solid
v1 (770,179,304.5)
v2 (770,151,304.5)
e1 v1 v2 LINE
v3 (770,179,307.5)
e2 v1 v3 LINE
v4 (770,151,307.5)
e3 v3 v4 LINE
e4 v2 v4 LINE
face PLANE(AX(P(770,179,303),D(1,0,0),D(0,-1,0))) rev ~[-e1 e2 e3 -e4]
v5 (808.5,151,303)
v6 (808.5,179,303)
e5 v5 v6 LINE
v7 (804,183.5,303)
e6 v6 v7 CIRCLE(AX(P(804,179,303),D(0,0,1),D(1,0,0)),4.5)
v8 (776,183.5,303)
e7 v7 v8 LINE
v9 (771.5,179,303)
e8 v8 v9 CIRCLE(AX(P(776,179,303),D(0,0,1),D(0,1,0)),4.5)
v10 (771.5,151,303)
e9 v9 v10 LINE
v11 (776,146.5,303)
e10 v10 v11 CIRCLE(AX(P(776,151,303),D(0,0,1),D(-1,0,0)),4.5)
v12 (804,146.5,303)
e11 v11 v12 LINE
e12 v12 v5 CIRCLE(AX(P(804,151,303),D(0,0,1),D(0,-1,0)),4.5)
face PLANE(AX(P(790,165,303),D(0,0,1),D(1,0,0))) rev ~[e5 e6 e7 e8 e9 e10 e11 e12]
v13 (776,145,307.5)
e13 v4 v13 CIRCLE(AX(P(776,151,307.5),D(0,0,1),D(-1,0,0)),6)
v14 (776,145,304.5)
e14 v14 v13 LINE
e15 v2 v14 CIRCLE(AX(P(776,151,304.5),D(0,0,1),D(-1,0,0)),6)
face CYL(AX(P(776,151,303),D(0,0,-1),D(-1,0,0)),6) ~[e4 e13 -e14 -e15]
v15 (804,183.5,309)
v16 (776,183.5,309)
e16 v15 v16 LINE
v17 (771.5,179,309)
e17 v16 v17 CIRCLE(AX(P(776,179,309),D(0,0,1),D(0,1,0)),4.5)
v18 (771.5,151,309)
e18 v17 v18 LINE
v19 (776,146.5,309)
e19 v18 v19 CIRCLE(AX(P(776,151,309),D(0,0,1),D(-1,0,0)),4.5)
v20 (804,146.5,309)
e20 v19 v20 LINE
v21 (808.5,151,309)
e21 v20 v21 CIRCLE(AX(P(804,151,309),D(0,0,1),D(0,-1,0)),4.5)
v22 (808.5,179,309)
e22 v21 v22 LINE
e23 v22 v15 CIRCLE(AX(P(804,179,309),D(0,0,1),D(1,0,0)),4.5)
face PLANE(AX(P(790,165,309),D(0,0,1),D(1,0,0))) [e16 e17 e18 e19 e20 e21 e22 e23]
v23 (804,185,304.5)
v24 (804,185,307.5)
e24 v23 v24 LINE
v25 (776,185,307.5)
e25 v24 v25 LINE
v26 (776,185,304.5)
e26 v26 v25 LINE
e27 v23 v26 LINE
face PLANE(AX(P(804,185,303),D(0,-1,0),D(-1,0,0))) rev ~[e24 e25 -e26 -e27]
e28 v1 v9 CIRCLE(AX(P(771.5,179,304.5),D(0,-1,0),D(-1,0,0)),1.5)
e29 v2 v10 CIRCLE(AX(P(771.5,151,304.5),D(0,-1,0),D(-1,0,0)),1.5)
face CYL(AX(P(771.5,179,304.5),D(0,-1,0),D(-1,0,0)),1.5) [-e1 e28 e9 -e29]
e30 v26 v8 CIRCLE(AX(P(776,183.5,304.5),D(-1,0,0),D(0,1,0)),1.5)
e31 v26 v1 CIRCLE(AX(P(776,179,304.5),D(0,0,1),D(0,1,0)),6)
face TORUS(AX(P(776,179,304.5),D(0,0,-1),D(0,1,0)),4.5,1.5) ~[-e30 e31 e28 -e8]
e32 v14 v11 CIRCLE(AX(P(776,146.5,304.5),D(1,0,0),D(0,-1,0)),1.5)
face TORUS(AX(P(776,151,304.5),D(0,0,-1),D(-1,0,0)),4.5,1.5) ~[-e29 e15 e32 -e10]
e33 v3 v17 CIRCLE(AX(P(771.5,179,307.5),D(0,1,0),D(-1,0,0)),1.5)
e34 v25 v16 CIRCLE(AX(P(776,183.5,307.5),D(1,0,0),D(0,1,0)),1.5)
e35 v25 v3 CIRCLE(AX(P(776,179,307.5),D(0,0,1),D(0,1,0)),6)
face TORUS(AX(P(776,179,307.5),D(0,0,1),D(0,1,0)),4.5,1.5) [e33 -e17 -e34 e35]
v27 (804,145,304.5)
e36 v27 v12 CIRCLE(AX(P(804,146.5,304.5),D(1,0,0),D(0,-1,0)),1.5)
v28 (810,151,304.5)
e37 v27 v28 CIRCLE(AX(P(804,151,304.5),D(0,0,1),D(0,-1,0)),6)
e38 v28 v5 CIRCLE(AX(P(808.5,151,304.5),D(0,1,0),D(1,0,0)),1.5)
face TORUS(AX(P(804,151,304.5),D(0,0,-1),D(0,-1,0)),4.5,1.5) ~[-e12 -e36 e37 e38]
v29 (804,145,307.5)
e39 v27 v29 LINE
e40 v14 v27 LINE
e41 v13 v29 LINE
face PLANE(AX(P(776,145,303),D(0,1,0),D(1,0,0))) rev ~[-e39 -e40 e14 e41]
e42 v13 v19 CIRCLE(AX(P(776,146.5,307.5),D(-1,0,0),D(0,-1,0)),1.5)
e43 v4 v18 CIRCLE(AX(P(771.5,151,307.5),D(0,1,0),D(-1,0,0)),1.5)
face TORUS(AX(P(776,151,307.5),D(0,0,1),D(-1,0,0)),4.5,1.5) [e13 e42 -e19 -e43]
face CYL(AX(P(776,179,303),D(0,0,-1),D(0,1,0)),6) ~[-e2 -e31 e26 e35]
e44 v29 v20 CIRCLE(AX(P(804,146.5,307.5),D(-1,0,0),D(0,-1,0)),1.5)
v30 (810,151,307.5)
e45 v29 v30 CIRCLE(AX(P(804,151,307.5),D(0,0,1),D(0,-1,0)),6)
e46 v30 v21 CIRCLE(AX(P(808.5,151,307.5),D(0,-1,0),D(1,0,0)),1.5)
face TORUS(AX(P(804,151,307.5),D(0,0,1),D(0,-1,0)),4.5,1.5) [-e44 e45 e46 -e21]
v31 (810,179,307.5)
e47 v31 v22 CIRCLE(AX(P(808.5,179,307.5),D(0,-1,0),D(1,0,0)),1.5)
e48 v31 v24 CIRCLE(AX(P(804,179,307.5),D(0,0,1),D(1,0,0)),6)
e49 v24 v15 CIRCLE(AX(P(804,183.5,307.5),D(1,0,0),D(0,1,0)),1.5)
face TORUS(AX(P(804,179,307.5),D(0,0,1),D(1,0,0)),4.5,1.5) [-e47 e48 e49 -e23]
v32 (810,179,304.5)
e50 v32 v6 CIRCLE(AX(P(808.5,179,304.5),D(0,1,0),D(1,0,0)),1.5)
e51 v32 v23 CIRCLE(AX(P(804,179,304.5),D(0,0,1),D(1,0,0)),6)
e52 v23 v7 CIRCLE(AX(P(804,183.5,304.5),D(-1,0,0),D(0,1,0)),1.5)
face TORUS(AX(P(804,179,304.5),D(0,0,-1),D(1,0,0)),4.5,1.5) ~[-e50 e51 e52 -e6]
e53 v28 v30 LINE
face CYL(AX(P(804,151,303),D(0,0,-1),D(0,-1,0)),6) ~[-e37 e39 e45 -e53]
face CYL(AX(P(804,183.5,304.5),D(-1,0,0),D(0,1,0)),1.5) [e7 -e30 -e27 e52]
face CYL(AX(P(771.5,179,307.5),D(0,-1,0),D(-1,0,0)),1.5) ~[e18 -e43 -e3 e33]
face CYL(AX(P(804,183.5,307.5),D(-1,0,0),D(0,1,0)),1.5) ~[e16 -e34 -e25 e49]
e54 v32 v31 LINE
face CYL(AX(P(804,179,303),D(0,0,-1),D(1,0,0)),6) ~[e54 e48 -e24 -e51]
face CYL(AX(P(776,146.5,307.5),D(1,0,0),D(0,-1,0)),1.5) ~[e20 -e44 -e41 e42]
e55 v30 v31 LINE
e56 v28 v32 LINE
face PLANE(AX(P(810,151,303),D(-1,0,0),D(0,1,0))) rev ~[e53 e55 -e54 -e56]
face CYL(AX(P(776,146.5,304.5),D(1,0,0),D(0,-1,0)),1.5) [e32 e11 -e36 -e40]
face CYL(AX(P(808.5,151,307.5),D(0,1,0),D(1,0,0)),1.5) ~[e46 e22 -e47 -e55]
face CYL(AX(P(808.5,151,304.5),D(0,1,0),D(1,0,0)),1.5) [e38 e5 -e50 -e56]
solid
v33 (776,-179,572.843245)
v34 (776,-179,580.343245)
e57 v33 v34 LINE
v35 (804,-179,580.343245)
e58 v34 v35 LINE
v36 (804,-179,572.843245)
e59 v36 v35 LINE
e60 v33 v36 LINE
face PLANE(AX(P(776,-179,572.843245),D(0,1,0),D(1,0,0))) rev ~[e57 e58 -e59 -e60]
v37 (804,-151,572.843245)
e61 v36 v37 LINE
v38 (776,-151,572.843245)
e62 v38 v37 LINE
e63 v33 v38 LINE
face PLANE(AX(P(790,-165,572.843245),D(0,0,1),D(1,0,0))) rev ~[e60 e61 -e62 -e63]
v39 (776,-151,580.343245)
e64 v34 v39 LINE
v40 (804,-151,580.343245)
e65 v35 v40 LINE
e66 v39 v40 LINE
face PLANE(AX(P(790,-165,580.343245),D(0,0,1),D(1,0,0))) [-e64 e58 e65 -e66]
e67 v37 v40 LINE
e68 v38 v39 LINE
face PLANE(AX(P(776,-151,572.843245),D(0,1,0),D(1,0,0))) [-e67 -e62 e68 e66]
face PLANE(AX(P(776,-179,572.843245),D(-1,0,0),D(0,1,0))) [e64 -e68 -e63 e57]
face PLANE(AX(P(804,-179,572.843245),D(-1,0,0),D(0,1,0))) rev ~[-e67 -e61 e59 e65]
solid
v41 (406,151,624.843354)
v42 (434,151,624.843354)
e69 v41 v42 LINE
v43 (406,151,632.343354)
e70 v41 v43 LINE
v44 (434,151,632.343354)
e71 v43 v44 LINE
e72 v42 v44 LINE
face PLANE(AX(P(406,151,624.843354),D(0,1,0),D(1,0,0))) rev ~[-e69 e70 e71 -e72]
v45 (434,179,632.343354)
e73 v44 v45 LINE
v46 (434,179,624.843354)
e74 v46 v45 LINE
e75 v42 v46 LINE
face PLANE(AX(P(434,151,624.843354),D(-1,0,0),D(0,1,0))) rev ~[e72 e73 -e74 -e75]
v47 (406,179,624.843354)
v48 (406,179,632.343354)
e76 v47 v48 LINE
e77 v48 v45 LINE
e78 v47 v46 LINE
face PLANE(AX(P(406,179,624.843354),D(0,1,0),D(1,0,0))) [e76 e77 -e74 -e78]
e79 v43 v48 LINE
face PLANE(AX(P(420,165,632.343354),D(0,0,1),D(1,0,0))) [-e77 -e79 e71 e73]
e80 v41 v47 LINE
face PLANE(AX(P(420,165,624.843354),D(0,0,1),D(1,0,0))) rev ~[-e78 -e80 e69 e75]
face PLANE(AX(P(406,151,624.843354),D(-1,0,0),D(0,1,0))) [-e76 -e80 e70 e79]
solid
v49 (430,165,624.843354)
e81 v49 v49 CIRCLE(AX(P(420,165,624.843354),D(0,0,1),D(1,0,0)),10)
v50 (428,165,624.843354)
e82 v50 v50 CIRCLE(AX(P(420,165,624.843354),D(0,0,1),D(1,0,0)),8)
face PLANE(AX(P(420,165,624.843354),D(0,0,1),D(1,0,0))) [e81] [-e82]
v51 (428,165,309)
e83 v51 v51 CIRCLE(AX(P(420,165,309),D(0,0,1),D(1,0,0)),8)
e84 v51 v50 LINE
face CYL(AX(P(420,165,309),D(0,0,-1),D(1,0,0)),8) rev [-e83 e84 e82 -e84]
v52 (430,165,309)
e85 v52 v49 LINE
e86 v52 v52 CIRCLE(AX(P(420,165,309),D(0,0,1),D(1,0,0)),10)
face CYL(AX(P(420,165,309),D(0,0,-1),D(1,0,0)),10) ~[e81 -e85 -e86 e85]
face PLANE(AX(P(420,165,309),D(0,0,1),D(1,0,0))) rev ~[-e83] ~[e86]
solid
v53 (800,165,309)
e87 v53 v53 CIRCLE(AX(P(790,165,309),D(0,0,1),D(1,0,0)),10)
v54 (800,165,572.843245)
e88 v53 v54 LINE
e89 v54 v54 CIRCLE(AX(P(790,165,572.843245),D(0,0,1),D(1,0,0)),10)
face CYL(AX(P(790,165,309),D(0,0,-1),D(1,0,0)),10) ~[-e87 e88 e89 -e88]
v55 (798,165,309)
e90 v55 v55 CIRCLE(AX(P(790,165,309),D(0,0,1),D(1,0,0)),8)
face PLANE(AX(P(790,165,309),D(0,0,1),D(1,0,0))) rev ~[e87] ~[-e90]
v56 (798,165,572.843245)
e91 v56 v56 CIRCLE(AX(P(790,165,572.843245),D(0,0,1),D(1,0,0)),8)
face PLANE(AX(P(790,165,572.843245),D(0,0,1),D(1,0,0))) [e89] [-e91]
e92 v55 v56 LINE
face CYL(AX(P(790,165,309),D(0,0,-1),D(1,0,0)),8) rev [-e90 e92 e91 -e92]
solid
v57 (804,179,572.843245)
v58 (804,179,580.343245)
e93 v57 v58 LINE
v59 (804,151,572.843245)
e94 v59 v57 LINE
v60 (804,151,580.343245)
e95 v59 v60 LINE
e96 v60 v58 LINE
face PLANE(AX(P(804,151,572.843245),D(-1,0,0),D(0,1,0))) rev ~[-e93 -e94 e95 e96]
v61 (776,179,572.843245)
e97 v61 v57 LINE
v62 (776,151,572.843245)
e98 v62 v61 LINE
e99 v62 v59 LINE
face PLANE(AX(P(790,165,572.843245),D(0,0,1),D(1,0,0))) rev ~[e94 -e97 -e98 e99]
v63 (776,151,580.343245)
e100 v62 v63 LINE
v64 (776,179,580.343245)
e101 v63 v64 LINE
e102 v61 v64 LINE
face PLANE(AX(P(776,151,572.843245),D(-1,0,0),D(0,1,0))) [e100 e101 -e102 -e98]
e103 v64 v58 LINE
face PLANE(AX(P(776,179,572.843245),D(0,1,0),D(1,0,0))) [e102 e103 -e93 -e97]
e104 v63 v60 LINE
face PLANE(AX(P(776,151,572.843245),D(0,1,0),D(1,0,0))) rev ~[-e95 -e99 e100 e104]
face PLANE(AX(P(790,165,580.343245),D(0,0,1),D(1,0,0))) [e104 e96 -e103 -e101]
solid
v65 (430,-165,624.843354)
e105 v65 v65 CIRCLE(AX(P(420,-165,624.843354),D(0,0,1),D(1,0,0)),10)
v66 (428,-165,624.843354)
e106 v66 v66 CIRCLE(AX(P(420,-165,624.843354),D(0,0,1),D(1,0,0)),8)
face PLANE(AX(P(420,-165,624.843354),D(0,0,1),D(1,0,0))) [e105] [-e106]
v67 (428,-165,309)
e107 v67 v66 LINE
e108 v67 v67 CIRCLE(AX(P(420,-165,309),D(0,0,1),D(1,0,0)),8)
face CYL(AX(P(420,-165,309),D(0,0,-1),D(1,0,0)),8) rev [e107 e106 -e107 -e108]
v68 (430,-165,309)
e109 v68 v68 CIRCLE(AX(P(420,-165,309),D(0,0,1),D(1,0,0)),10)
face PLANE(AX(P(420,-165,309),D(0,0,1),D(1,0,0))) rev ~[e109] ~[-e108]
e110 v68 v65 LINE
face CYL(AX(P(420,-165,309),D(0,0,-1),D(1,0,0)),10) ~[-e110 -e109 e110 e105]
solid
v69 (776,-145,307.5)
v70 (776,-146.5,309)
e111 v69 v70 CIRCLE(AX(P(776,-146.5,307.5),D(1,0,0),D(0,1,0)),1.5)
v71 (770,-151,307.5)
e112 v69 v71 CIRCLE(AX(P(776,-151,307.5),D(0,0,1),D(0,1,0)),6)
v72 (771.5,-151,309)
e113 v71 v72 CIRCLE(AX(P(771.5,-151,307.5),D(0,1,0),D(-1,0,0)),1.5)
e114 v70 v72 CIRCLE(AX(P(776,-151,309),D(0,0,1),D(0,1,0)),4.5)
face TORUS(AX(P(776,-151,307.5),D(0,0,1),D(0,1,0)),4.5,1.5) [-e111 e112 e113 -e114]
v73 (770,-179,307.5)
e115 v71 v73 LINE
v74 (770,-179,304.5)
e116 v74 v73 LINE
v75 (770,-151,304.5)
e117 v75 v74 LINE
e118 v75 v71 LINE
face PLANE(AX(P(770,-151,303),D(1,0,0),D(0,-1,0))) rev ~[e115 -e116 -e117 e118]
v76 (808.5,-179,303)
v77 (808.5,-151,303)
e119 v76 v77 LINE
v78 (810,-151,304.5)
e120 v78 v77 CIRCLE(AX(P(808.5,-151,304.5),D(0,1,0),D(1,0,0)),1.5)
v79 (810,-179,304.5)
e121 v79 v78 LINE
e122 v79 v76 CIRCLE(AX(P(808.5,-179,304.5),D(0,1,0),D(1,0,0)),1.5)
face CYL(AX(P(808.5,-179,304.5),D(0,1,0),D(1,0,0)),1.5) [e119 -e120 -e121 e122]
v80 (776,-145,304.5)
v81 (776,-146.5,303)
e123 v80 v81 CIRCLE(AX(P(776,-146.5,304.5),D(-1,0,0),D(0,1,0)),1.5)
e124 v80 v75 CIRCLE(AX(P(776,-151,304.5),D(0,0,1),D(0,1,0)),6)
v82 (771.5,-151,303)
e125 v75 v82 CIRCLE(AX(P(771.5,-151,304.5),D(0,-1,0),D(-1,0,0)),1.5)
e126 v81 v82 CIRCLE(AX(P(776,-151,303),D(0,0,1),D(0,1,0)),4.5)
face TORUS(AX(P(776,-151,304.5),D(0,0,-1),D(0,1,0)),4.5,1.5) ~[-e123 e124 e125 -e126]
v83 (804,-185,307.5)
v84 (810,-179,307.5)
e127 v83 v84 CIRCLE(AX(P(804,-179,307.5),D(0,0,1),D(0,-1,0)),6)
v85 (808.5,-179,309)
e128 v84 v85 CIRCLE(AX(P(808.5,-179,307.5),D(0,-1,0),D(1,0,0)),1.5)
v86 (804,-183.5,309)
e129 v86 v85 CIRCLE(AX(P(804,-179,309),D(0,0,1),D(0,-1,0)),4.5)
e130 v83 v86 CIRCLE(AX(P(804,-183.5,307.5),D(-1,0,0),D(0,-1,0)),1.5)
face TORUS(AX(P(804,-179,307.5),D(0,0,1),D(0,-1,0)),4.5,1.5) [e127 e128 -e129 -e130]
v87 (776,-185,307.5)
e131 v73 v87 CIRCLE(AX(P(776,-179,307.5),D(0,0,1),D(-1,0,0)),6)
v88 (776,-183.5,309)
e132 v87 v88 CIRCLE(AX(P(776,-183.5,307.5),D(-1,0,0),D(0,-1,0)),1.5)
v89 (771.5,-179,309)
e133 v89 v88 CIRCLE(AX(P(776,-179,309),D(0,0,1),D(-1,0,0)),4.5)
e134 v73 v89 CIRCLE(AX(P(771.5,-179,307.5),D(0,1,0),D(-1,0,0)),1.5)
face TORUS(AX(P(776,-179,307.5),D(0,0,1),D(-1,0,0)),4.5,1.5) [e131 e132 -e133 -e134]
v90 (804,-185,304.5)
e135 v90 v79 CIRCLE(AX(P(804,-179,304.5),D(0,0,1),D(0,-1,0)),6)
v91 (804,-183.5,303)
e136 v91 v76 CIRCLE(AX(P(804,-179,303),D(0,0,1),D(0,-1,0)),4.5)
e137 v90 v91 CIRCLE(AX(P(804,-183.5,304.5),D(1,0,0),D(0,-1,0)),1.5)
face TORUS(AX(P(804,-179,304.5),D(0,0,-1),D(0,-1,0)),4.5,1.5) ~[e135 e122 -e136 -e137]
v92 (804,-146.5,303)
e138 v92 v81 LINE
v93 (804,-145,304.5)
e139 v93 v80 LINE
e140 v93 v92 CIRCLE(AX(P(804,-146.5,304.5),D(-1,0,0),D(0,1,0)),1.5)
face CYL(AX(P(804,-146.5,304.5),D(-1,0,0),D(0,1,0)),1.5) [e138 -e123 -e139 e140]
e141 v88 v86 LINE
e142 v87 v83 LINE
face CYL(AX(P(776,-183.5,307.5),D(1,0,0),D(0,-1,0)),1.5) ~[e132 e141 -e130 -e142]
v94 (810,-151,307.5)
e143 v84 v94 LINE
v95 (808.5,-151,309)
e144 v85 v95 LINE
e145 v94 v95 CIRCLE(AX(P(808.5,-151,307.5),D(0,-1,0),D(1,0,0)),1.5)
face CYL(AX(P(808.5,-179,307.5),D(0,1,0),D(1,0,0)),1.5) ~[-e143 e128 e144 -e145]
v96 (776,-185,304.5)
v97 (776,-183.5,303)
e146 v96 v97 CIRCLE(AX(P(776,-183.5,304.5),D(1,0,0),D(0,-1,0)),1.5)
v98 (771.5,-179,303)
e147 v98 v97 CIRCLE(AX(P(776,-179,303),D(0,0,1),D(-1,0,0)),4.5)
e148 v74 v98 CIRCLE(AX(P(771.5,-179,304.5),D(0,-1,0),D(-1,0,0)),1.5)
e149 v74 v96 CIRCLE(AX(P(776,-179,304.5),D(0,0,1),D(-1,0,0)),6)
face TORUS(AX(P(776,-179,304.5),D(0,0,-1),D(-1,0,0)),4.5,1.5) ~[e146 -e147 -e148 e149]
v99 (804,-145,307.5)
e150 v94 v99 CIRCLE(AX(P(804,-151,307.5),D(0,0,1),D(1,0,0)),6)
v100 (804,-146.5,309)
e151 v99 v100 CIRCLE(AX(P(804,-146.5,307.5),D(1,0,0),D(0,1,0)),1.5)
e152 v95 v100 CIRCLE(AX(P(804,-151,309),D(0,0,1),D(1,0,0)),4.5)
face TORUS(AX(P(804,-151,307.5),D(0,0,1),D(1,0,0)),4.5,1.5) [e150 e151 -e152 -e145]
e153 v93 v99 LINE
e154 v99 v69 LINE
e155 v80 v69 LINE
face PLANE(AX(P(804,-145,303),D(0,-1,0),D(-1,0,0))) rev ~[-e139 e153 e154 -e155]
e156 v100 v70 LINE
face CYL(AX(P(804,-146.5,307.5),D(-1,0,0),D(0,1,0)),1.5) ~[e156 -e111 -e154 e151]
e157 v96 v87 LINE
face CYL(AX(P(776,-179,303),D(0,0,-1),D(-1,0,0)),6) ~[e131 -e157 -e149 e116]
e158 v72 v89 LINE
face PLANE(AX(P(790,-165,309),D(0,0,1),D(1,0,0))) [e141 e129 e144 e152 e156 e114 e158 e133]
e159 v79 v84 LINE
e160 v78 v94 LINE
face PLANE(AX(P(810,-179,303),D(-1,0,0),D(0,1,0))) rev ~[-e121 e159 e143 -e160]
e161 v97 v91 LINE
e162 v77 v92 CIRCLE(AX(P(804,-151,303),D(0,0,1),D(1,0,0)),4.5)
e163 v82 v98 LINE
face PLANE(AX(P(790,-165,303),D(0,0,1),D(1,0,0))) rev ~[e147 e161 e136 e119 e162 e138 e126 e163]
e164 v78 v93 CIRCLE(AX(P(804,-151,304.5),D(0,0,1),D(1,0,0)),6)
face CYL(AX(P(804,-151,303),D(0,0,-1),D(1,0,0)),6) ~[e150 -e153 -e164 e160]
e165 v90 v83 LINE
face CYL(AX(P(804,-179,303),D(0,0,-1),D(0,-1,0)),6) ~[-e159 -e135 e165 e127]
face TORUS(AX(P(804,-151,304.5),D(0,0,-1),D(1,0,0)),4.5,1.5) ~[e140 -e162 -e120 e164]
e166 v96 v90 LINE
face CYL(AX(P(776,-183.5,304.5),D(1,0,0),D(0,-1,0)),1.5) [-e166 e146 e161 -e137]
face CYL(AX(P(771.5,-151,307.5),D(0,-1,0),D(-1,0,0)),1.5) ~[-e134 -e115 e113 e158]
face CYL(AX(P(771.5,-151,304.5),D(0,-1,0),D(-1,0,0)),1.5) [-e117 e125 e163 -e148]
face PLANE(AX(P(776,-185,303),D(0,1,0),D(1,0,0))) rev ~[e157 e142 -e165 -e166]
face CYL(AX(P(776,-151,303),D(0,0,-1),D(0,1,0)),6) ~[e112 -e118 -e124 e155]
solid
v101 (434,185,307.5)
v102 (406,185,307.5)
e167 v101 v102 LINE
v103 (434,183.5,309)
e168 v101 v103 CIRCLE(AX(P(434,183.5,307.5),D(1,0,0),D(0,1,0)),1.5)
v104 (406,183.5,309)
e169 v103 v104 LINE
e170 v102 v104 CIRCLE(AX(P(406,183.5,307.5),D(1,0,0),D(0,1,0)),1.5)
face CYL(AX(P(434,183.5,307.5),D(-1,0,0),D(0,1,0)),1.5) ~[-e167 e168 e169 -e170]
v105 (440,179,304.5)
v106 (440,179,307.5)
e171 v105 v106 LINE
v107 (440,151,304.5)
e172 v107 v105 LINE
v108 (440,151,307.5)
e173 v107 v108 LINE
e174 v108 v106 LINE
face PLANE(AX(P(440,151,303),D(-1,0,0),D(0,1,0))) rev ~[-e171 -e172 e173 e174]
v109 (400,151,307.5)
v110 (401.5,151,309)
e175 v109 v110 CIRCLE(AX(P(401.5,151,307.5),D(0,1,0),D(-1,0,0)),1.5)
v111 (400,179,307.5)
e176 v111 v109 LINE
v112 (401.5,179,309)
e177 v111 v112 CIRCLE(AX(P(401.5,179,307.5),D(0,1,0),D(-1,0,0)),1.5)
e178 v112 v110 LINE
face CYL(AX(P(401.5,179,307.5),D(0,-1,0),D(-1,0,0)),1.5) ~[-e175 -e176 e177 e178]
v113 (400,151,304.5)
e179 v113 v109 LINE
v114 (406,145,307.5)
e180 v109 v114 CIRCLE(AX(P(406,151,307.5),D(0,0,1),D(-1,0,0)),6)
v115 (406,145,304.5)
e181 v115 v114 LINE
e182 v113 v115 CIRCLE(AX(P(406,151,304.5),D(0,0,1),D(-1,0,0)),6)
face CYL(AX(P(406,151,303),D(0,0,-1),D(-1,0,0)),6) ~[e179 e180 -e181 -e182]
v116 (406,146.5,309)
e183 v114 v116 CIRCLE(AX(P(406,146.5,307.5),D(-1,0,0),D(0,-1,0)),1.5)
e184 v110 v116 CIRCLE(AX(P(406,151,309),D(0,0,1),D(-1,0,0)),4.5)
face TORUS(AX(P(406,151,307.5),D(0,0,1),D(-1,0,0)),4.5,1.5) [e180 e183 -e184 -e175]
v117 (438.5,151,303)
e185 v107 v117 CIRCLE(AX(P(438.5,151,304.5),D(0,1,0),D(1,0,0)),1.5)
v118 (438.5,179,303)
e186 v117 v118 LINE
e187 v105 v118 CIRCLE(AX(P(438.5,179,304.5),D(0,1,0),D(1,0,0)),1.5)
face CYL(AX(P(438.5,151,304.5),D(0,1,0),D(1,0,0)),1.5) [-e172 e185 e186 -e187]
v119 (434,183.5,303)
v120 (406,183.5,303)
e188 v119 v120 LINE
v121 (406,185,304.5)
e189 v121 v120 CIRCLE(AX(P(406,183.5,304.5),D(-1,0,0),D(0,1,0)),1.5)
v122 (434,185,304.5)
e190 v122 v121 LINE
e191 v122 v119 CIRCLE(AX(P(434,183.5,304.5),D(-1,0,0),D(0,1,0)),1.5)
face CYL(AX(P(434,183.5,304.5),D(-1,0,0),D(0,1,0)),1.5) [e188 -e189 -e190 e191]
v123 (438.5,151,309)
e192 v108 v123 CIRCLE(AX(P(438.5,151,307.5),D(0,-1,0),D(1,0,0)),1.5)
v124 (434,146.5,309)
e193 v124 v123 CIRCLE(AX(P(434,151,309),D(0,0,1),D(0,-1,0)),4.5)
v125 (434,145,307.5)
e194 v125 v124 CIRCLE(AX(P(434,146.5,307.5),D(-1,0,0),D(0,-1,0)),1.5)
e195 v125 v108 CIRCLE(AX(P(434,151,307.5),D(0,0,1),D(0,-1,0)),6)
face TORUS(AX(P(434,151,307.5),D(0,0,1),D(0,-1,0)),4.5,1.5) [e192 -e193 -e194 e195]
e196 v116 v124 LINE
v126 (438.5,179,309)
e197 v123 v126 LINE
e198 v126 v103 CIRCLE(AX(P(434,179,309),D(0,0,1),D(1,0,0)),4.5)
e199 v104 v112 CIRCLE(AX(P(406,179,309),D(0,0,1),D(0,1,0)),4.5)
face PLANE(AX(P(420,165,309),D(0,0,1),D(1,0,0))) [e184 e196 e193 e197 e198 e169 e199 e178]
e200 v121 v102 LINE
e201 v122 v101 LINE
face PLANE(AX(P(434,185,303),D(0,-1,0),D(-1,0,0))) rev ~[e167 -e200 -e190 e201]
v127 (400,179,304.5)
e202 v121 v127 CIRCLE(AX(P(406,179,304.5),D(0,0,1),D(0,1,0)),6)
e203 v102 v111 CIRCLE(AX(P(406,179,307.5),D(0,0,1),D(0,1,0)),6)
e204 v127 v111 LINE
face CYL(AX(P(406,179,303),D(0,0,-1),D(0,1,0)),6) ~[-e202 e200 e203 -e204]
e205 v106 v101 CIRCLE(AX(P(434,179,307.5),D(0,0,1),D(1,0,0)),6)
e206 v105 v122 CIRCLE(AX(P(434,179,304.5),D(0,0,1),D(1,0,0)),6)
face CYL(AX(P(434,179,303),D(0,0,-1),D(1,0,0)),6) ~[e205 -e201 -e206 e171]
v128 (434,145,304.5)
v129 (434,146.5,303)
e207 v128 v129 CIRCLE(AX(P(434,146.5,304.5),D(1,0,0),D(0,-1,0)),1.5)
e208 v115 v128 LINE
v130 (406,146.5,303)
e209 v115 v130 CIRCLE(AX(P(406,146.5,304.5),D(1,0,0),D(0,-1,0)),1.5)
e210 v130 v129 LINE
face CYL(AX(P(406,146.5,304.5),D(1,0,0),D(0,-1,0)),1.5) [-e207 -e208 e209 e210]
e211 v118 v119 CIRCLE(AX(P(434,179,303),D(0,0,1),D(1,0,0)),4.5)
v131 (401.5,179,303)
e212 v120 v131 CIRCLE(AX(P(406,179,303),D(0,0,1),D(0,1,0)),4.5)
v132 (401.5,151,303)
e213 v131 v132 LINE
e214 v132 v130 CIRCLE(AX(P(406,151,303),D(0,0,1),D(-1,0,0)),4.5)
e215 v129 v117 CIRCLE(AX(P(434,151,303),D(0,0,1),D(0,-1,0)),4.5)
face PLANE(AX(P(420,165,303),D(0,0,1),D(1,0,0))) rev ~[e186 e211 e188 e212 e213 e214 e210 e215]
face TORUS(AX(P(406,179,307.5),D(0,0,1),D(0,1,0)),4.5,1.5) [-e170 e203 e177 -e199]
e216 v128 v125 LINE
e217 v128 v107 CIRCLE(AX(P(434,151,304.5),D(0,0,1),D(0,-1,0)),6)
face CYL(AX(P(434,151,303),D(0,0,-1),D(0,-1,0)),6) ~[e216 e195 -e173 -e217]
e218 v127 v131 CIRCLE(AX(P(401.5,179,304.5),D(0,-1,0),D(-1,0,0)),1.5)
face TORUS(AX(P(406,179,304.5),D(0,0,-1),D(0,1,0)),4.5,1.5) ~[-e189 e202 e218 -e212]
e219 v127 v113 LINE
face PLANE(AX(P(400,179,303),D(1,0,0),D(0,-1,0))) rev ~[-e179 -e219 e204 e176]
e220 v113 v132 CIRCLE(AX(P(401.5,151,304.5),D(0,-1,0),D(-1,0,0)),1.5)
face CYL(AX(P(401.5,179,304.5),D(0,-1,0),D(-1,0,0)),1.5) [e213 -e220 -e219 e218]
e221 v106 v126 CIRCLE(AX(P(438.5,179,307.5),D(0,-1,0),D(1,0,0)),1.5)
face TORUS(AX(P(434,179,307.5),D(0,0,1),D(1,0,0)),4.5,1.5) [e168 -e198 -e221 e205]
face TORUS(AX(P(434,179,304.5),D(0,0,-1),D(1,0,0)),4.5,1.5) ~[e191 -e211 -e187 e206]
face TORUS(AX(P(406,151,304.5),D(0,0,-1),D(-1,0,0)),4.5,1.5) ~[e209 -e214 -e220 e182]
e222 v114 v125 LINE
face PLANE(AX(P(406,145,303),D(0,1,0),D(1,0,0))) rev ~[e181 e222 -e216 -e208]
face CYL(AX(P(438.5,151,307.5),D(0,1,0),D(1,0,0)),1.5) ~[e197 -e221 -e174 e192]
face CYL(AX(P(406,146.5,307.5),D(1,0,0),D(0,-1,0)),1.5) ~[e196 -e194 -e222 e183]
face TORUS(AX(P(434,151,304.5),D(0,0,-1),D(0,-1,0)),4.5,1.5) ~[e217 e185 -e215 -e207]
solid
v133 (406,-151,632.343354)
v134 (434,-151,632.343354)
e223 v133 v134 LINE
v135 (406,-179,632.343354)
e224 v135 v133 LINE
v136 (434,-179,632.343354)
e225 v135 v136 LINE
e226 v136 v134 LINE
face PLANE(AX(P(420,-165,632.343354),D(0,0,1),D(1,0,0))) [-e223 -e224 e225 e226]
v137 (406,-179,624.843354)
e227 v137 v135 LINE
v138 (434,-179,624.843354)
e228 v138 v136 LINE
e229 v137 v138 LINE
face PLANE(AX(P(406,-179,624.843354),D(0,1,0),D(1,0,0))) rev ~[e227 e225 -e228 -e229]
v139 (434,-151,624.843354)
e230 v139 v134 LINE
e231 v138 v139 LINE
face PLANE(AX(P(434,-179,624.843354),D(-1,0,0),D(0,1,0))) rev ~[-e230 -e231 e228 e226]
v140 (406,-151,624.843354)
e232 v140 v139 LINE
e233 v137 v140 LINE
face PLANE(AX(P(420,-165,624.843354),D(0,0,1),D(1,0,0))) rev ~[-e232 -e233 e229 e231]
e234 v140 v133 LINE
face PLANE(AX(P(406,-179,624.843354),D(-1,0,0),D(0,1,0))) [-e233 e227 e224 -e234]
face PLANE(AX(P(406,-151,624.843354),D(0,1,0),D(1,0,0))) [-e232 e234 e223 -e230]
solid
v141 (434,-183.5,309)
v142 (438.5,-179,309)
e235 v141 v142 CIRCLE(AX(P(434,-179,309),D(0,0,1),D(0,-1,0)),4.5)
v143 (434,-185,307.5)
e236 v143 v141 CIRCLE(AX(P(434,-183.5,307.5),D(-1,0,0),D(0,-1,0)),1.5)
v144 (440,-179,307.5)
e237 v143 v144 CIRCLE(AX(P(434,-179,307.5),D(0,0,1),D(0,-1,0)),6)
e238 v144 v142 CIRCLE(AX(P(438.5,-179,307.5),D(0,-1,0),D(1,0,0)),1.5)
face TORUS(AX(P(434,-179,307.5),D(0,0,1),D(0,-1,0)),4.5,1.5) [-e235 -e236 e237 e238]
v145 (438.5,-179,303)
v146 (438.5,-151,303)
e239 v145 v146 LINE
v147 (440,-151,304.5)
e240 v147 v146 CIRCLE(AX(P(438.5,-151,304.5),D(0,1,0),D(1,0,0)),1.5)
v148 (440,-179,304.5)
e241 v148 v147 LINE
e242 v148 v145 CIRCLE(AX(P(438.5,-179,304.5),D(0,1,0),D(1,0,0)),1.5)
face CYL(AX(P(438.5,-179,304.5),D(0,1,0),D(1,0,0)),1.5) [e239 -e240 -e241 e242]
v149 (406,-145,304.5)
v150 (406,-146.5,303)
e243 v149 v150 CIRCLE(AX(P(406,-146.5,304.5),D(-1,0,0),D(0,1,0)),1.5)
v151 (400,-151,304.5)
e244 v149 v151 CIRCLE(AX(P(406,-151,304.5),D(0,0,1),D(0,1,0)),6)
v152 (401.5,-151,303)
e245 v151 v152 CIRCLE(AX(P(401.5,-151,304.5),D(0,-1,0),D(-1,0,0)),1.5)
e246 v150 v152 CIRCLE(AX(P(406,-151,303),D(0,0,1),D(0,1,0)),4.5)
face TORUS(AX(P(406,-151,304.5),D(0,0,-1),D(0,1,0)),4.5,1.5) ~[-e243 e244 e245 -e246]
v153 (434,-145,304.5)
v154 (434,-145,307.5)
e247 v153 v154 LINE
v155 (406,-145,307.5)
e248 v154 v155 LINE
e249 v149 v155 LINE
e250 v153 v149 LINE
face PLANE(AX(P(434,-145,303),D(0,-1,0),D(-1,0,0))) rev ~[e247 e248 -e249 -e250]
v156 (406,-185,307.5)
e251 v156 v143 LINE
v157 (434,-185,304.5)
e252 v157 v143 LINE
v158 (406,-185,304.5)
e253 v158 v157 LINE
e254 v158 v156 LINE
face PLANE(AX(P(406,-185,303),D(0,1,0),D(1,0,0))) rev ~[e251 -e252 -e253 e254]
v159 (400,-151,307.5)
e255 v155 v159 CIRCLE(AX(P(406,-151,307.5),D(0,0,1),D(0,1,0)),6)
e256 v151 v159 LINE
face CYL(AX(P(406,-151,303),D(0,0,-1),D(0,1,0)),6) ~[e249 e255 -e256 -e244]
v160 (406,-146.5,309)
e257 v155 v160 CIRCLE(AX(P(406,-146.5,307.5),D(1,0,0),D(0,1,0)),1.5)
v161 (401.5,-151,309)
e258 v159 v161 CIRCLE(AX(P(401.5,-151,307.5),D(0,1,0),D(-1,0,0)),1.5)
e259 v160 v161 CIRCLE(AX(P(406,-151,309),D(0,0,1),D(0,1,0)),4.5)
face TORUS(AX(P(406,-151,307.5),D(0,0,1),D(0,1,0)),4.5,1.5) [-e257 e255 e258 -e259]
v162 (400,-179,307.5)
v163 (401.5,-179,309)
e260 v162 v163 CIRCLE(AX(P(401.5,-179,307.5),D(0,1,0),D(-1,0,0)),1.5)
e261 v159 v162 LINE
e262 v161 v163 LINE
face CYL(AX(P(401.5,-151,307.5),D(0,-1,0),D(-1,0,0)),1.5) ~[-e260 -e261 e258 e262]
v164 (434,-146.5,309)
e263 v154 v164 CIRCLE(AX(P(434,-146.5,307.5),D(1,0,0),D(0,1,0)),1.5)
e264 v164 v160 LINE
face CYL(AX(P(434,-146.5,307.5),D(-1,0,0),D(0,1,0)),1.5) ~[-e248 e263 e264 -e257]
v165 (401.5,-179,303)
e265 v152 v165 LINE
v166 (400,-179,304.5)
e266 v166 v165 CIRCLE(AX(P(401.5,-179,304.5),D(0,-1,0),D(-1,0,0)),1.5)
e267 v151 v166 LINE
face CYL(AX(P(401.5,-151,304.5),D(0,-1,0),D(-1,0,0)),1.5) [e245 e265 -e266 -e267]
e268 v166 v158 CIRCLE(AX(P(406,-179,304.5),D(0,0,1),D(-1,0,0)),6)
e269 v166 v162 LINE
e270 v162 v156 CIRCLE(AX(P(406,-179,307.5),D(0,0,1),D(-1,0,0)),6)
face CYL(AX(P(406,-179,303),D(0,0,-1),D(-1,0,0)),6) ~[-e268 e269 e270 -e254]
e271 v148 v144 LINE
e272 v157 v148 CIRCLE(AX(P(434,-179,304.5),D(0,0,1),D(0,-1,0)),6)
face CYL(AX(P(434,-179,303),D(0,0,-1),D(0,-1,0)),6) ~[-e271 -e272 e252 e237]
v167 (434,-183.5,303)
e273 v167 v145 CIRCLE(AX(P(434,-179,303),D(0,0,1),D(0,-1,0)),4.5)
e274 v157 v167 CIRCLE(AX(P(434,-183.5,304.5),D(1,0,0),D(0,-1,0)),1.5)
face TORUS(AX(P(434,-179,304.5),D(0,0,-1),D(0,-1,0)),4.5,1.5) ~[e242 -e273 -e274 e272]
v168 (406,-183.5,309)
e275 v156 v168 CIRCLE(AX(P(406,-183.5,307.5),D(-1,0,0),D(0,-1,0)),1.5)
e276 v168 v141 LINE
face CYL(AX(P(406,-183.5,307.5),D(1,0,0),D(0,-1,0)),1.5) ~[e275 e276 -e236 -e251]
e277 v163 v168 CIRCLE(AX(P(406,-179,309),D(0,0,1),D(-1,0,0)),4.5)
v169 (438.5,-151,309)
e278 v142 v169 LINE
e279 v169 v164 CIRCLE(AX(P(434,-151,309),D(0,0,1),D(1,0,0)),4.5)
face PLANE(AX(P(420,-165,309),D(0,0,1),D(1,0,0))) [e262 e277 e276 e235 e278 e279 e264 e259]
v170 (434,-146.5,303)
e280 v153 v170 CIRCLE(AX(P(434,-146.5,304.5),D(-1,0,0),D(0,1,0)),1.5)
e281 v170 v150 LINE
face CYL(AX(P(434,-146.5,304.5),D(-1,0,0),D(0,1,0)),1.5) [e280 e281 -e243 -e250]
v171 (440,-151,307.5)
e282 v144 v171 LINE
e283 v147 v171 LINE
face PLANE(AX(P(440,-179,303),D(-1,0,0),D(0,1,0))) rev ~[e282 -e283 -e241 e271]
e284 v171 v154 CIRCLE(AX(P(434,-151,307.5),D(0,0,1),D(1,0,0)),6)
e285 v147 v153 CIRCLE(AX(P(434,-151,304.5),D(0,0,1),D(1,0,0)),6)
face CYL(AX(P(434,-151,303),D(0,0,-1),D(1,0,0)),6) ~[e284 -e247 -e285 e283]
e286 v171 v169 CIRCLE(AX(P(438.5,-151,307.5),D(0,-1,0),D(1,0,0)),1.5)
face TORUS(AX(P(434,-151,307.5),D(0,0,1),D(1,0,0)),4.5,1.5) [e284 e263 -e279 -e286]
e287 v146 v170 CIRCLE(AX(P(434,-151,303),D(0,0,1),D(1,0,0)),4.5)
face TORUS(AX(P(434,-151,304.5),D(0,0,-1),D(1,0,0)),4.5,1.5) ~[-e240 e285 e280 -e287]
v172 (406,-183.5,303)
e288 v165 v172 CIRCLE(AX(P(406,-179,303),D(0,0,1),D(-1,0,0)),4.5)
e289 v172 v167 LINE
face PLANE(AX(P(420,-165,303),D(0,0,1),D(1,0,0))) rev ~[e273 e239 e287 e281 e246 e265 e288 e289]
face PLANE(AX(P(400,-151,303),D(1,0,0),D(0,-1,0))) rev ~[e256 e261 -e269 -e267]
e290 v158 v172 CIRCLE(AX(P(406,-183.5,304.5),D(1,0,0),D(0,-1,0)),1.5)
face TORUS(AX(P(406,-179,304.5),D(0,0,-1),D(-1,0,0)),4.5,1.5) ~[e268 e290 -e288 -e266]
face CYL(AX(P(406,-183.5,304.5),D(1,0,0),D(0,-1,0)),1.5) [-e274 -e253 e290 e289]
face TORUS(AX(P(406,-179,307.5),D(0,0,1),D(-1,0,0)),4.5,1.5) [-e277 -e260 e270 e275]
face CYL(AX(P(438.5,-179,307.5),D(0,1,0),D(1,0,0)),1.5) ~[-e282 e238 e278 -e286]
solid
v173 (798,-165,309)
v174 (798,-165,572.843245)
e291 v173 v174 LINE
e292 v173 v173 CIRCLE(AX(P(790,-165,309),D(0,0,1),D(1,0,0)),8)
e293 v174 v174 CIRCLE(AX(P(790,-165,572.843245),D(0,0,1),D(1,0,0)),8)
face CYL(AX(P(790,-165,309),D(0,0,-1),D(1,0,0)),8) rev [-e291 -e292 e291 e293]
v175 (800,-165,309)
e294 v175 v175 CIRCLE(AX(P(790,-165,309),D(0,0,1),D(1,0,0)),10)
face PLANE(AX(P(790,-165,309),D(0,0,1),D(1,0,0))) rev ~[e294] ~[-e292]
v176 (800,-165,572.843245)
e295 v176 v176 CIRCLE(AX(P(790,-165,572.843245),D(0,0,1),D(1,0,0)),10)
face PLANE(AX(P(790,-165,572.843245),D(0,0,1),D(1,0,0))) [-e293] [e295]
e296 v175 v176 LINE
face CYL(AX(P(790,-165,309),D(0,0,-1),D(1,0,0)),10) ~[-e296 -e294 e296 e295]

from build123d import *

# Parameters (mm, degrees)
BLOCK_START           = 303
BLOCK_1_DEPTH         = 6
BLOCK_EDGE_FILLET_1_R = 1.5
EXTRUDE_START         = 309
EXTRUDE_SKETCH_1_R    = 10
EXTRUDE_SKETCH_1_R_2  = 8
EXTRUDE_1_DEPTH       = 315.843353848
EXTRUDE_START_2       = 624.843353848
EXTRUDE_SKETCH_2_W    = 28
EXTRUDE_SKETCH_2_H    = 28
EXTRUDE_2_DEPTH       = 7.5
BLOCK_2_DEPTH         = 6
BLOCK_EDGE_FILLET_2_R = 1.5
EXTRUDE_SKETCH_3_R    = 10
EXTRUDE_SKETCH_3_R_2  = 8
EXTRUDE_3_DEPTH       = 315.843353848
EXTRUDE_SKETCH_4_W    = 28
EXTRUDE_SKETCH_4_H    = 28
EXTRUDE_4_DEPTH       = 7.5
BLOCK_3_DEPTH         = 6
BLOCK_EDGE_FILLET_3_R = 1.5
EXTRUDE_SKETCH_5_R    = 10
EXTRUDE_SKETCH_5_R_2  = 8
EXTRUDE_5_DEPTH       = 263.843245008
EXTRUDE_START_3       = 572.843245008
EXTRUDE_SKETCH_6_W    = 28
EXTRUDE_SKETCH_6_H    = 28
EXTRUDE_6_DEPTH       = 7.5
BLOCK_4_DEPTH         = 6
BLOCK_EDGE_FILLET_4_R = 1.5
EXTRUDE_SKETCH_7_R    = 10
EXTRUDE_SKETCH_7_R_2  = 8
EXTRUDE_7_DEPTH       = 263.843245008
EXTRUDE_SKETCH_8_W    = 28
EXTRUDE_SKETCH_8_H    = 28
EXTRUDE_8_DEPTH       = 7.5


with BuildPart() as part:
    # Block sketch 1 → Block 1 (new body)
    with BuildSketch(Plane.XY.offset(BLOCK_START)):
        with BuildLine():
            Line((406, 145), (434, 145))
            ThreePointArc((434, 145), (438.242640687, 146.757359313), (440, 151))
            Line((440, 151), (440, 179))
            ThreePointArc((440, 179), (438.242640687, 183.242640687), (434, 185))
            Line((434, 185), (406, 185))
            ThreePointArc((406, 185), (401.757359313, 183.242640687), (400, 179))
            Line((400, 179), (400, 151))
            ThreePointArc((400, 151), (401.757359313, 146.757359313), (406, 145))
        make_face()
    extrude(amount=BLOCK_1_DEPTH)

    # Block edge fillet 1
    block_edge_fillet_1_edges = [part.edges().sort_by_distance(p)[0] for p in [
        (440, 165, 303),
        (438.242640687, 146.757359313, 303),
        (420, 145, 303),
        (401.757359313, 146.757359313, 303),
        (438.242640687, 146.757359313, 309),
        (440, 165, 309),
        (438.242640687, 183.242640687, 309),
        (420, 185, 309),
        (401.757359313, 183.242640687, 309),
        (400, 165, 309),
        (401.757359313, 146.757359313, 309),
        (400, 165, 303),
        (420, 145, 309),
        (401.757359313, 183.242640687, 303),
        (420, 185, 303),
        (438.242640687, 183.242640687, 303),
    ]]
    fillet(block_edge_fillet_1_edges, radius=BLOCK_EDGE_FILLET_1_R)


with BuildPart() as body_2:
    # Extrude sketch 1 → Extrude 1 (new body)
    with BuildSketch(Plane.XY.offset(EXTRUDE_START)):
        with Locations((420, 165)):
            Circle(EXTRUDE_SKETCH_1_R)
        with Locations((420, 165)):
            Circle(EXTRUDE_SKETCH_1_R_2, mode=Mode.SUBTRACT)
    extrude(amount=EXTRUDE_1_DEPTH)


with BuildPart() as body_3:
    # Extrude sketch 2 → Extrude 2 (new body)
    with BuildSketch(Plane.XY.offset(EXTRUDE_START_2)):
        with Locations((420, 165)):
            Rectangle(EXTRUDE_SKETCH_2_W, EXTRUDE_SKETCH_2_H)
    extrude(amount=EXTRUDE_2_DEPTH)


with BuildPart() as body_4:
    # Block sketch 2 → Block 2 (new body)
    with BuildSketch(Plane.XY.offset(BLOCK_START)):
        with BuildLine():
            Line((406, -185), (434, -185))
            ThreePointArc((434, -185), (438.242640687, -183.242640687), (440, -179))
            Line((440, -179), (440, -151))
            ThreePointArc((440, -151), (438.242640687, -146.757359313), (434, -145))
            Line((434, -145), (406, -145))
            ThreePointArc((406, -145), (401.757359313, -146.757359313), (400, -151))
            Line((400, -151), (400, -179))
            ThreePointArc((400, -179), (401.757359313, -183.242640687), (406, -185))
        make_face()
    extrude(amount=BLOCK_2_DEPTH)

    # Block edge fillet 2
    block_edge_fillet_2_edges = [body_4.edges().sort_by_distance(p)[0] for p in [
        (440, -165, 303),
        (438.242640687, -183.242640687, 303),
        (420, -185, 303),
        (401.757359313, -183.242640687, 303),
        (438.242640687, -183.242640687, 309),
        (440, -165, 309),
        (438.242640687, -146.757359313, 309),
        (420, -145, 309),
        (401.757359313, -146.757359313, 309),
        (400, -165, 309),
        (401.757359313, -183.242640687, 309),
        (400, -165, 303),
        (420, -185, 309),
        (401.757359313, -146.757359313, 303),
        (420, -145, 303),
        (438.242640687, -146.757359313, 303),
    ]]
    fillet(block_edge_fillet_2_edges, radius=BLOCK_EDGE_FILLET_2_R)


with BuildPart() as body_5:
    # Extrude sketch 3 → Extrude 3 (new body)
    with BuildSketch(Plane.XY.offset(EXTRUDE_START)):
        with Locations((420, -165)):
            Circle(EXTRUDE_SKETCH_3_R)
        with Locations((420, -165)):
            Circle(EXTRUDE_SKETCH_3_R_2, mode=Mode.SUBTRACT)
    extrude(amount=EXTRUDE_3_DEPTH)


with BuildPart() as body_6:
    # Extrude sketch 4 → Extrude 4 (new body)
    with BuildSketch(Plane.XY.offset(EXTRUDE_START_2)):
        with Locations((420, -165)):
            Rectangle(EXTRUDE_SKETCH_4_W, EXTRUDE_SKETCH_4_H)
    extrude(amount=EXTRUDE_4_DEPTH)


with BuildPart() as body_7:
    # Block sketch 3 → Block 3 (new body)
    with BuildSketch(Plane.XY.offset(BLOCK_START)):
        with BuildLine():
            Line((776, 145), (804, 145))
            ThreePointArc((804, 145), (808.242640687, 146.757359313), (810, 151))
            Line((810, 151), (810, 179))
            ThreePointArc((810, 179), (808.242640687, 183.242640687), (804, 185))
            Line((804, 185), (776, 185))
            ThreePointArc((776, 185), (771.757359313, 183.242640687), (770, 179))
            Line((770, 179), (770, 151))
            ThreePointArc((770, 151), (771.757359313, 146.757359313), (776, 145))
        make_face()
    extrude(amount=BLOCK_3_DEPTH)

    # Block edge fillet 3
    block_edge_fillet_3_edges = [body_7.edges().sort_by_distance(p)[0] for p in [
        (810, 165, 303),
        (808.242640687, 146.757359313, 303),
        (790, 145, 303),
        (771.757359313, 146.757359313, 303),
        (808.242640687, 146.757359313, 309),
        (810, 165, 309),
        (808.242640687, 183.242640687, 309),
        (790, 185, 309),
        (771.757359313, 183.242640687, 309),
        (770, 165, 309),
        (771.757359313, 146.757359313, 309),
        (770, 165, 303),
        (790, 145, 309),
        (771.757359313, 183.242640687, 303),
        (790, 185, 303),
        (808.242640687, 183.242640687, 303),
    ]]
    fillet(block_edge_fillet_3_edges, radius=BLOCK_EDGE_FILLET_3_R)


with BuildPart() as body_8:
    # Extrude sketch 5 → Extrude 5 (new body)
    with BuildSketch(Plane.XY.offset(EXTRUDE_START)):
        with Locations((790, 165)):
            Circle(EXTRUDE_SKETCH_5_R)
        with Locations((790, 165)):
            Circle(EXTRUDE_SKETCH_5_R_2, mode=Mode.SUBTRACT)
    extrude(amount=EXTRUDE_5_DEPTH)


with BuildPart() as body_9:
    # Extrude sketch 6 → Extrude 6 (new body)
    with BuildSketch(Plane.XY.offset(EXTRUDE_START_3)):
        with Locations((790, 165)):
            Rectangle(EXTRUDE_SKETCH_6_W, EXTRUDE_SKETCH_6_H)
    extrude(amount=EXTRUDE_6_DEPTH)


with BuildPart() as body_10:
    # Block sketch 4 → Block 4 (new body)
    with BuildSketch(Plane.XY.offset(BLOCK_START)):
        with BuildLine():
            Line((776, -185), (804, -185))
            ThreePointArc((804, -185), (808.242640687, -183.242640687), (810, -179))
            Line((810, -179), (810, -151))
            ThreePointArc((810, -151), (808.242640687, -146.757359313), (804, -145))
            Line((804, -145), (776, -145))
            ThreePointArc((776, -145), (771.757359313, -146.757359313), (770, -151))
            Line((770, -151), (770, -179))
            ThreePointArc((770, -179), (771.757359313, -183.242640687), (776, -185))
        make_face()
    extrude(amount=BLOCK_4_DEPTH)

    # Block edge fillet 4
    block_edge_fillet_4_edges = [body_10.edges().sort_by_distance(p)[0] for p in [
        (810, -165, 303),
        (808.242640687, -183.242640687, 303),
        (790, -185, 303),
        (771.757359313, -183.242640687, 303),
        (808.242640687, -183.242640687, 309),
        (810, -165, 309),
        (808.242640687, -146.757359313, 309),
        (790, -145, 309),
        (771.757359313, -146.757359313, 309),
        (770, -165, 309),
        (771.757359313, -183.242640687, 309),
        (770, -165, 303),
        (790, -185, 309),
        (771.757359313, -146.757359313, 303),
        (790, -145, 303),
        (808.242640687, -146.757359313, 303),
    ]]
    fillet(block_edge_fillet_4_edges, radius=BLOCK_EDGE_FILLET_4_R)


with BuildPart() as body_11:
    # Extrude sketch 7 → Extrude 7 (new body)
    with BuildSketch(Plane.XY.offset(EXTRUDE_START)):
        with Locations((790, -165)):
            Circle(EXTRUDE_SKETCH_7_R)
        with Locations((790, -165)):
            Circle(EXTRUDE_SKETCH_7_R_2, mode=Mode.SUBTRACT)
    extrude(amount=EXTRUDE_7_DEPTH)


with BuildPart() as body_12:
    # Extrude sketch 8 → Extrude 8 (new body)
    with BuildSketch(Plane.XY.offset(EXTRUDE_START_3)):
        with Locations((790, -165)):
            Rectangle(EXTRUDE_SKETCH_8_W, EXTRUDE_SKETCH_8_H)
    extrude(amount=EXTRUDE_8_DEPTH)


solid = Compound([part.part, body_2.part, body_3.part, body_4.part, body_5.part, body_6.part, body_7.part, body_8.part, body_9.part, body_10.part, body_11.part, body_12.part])
